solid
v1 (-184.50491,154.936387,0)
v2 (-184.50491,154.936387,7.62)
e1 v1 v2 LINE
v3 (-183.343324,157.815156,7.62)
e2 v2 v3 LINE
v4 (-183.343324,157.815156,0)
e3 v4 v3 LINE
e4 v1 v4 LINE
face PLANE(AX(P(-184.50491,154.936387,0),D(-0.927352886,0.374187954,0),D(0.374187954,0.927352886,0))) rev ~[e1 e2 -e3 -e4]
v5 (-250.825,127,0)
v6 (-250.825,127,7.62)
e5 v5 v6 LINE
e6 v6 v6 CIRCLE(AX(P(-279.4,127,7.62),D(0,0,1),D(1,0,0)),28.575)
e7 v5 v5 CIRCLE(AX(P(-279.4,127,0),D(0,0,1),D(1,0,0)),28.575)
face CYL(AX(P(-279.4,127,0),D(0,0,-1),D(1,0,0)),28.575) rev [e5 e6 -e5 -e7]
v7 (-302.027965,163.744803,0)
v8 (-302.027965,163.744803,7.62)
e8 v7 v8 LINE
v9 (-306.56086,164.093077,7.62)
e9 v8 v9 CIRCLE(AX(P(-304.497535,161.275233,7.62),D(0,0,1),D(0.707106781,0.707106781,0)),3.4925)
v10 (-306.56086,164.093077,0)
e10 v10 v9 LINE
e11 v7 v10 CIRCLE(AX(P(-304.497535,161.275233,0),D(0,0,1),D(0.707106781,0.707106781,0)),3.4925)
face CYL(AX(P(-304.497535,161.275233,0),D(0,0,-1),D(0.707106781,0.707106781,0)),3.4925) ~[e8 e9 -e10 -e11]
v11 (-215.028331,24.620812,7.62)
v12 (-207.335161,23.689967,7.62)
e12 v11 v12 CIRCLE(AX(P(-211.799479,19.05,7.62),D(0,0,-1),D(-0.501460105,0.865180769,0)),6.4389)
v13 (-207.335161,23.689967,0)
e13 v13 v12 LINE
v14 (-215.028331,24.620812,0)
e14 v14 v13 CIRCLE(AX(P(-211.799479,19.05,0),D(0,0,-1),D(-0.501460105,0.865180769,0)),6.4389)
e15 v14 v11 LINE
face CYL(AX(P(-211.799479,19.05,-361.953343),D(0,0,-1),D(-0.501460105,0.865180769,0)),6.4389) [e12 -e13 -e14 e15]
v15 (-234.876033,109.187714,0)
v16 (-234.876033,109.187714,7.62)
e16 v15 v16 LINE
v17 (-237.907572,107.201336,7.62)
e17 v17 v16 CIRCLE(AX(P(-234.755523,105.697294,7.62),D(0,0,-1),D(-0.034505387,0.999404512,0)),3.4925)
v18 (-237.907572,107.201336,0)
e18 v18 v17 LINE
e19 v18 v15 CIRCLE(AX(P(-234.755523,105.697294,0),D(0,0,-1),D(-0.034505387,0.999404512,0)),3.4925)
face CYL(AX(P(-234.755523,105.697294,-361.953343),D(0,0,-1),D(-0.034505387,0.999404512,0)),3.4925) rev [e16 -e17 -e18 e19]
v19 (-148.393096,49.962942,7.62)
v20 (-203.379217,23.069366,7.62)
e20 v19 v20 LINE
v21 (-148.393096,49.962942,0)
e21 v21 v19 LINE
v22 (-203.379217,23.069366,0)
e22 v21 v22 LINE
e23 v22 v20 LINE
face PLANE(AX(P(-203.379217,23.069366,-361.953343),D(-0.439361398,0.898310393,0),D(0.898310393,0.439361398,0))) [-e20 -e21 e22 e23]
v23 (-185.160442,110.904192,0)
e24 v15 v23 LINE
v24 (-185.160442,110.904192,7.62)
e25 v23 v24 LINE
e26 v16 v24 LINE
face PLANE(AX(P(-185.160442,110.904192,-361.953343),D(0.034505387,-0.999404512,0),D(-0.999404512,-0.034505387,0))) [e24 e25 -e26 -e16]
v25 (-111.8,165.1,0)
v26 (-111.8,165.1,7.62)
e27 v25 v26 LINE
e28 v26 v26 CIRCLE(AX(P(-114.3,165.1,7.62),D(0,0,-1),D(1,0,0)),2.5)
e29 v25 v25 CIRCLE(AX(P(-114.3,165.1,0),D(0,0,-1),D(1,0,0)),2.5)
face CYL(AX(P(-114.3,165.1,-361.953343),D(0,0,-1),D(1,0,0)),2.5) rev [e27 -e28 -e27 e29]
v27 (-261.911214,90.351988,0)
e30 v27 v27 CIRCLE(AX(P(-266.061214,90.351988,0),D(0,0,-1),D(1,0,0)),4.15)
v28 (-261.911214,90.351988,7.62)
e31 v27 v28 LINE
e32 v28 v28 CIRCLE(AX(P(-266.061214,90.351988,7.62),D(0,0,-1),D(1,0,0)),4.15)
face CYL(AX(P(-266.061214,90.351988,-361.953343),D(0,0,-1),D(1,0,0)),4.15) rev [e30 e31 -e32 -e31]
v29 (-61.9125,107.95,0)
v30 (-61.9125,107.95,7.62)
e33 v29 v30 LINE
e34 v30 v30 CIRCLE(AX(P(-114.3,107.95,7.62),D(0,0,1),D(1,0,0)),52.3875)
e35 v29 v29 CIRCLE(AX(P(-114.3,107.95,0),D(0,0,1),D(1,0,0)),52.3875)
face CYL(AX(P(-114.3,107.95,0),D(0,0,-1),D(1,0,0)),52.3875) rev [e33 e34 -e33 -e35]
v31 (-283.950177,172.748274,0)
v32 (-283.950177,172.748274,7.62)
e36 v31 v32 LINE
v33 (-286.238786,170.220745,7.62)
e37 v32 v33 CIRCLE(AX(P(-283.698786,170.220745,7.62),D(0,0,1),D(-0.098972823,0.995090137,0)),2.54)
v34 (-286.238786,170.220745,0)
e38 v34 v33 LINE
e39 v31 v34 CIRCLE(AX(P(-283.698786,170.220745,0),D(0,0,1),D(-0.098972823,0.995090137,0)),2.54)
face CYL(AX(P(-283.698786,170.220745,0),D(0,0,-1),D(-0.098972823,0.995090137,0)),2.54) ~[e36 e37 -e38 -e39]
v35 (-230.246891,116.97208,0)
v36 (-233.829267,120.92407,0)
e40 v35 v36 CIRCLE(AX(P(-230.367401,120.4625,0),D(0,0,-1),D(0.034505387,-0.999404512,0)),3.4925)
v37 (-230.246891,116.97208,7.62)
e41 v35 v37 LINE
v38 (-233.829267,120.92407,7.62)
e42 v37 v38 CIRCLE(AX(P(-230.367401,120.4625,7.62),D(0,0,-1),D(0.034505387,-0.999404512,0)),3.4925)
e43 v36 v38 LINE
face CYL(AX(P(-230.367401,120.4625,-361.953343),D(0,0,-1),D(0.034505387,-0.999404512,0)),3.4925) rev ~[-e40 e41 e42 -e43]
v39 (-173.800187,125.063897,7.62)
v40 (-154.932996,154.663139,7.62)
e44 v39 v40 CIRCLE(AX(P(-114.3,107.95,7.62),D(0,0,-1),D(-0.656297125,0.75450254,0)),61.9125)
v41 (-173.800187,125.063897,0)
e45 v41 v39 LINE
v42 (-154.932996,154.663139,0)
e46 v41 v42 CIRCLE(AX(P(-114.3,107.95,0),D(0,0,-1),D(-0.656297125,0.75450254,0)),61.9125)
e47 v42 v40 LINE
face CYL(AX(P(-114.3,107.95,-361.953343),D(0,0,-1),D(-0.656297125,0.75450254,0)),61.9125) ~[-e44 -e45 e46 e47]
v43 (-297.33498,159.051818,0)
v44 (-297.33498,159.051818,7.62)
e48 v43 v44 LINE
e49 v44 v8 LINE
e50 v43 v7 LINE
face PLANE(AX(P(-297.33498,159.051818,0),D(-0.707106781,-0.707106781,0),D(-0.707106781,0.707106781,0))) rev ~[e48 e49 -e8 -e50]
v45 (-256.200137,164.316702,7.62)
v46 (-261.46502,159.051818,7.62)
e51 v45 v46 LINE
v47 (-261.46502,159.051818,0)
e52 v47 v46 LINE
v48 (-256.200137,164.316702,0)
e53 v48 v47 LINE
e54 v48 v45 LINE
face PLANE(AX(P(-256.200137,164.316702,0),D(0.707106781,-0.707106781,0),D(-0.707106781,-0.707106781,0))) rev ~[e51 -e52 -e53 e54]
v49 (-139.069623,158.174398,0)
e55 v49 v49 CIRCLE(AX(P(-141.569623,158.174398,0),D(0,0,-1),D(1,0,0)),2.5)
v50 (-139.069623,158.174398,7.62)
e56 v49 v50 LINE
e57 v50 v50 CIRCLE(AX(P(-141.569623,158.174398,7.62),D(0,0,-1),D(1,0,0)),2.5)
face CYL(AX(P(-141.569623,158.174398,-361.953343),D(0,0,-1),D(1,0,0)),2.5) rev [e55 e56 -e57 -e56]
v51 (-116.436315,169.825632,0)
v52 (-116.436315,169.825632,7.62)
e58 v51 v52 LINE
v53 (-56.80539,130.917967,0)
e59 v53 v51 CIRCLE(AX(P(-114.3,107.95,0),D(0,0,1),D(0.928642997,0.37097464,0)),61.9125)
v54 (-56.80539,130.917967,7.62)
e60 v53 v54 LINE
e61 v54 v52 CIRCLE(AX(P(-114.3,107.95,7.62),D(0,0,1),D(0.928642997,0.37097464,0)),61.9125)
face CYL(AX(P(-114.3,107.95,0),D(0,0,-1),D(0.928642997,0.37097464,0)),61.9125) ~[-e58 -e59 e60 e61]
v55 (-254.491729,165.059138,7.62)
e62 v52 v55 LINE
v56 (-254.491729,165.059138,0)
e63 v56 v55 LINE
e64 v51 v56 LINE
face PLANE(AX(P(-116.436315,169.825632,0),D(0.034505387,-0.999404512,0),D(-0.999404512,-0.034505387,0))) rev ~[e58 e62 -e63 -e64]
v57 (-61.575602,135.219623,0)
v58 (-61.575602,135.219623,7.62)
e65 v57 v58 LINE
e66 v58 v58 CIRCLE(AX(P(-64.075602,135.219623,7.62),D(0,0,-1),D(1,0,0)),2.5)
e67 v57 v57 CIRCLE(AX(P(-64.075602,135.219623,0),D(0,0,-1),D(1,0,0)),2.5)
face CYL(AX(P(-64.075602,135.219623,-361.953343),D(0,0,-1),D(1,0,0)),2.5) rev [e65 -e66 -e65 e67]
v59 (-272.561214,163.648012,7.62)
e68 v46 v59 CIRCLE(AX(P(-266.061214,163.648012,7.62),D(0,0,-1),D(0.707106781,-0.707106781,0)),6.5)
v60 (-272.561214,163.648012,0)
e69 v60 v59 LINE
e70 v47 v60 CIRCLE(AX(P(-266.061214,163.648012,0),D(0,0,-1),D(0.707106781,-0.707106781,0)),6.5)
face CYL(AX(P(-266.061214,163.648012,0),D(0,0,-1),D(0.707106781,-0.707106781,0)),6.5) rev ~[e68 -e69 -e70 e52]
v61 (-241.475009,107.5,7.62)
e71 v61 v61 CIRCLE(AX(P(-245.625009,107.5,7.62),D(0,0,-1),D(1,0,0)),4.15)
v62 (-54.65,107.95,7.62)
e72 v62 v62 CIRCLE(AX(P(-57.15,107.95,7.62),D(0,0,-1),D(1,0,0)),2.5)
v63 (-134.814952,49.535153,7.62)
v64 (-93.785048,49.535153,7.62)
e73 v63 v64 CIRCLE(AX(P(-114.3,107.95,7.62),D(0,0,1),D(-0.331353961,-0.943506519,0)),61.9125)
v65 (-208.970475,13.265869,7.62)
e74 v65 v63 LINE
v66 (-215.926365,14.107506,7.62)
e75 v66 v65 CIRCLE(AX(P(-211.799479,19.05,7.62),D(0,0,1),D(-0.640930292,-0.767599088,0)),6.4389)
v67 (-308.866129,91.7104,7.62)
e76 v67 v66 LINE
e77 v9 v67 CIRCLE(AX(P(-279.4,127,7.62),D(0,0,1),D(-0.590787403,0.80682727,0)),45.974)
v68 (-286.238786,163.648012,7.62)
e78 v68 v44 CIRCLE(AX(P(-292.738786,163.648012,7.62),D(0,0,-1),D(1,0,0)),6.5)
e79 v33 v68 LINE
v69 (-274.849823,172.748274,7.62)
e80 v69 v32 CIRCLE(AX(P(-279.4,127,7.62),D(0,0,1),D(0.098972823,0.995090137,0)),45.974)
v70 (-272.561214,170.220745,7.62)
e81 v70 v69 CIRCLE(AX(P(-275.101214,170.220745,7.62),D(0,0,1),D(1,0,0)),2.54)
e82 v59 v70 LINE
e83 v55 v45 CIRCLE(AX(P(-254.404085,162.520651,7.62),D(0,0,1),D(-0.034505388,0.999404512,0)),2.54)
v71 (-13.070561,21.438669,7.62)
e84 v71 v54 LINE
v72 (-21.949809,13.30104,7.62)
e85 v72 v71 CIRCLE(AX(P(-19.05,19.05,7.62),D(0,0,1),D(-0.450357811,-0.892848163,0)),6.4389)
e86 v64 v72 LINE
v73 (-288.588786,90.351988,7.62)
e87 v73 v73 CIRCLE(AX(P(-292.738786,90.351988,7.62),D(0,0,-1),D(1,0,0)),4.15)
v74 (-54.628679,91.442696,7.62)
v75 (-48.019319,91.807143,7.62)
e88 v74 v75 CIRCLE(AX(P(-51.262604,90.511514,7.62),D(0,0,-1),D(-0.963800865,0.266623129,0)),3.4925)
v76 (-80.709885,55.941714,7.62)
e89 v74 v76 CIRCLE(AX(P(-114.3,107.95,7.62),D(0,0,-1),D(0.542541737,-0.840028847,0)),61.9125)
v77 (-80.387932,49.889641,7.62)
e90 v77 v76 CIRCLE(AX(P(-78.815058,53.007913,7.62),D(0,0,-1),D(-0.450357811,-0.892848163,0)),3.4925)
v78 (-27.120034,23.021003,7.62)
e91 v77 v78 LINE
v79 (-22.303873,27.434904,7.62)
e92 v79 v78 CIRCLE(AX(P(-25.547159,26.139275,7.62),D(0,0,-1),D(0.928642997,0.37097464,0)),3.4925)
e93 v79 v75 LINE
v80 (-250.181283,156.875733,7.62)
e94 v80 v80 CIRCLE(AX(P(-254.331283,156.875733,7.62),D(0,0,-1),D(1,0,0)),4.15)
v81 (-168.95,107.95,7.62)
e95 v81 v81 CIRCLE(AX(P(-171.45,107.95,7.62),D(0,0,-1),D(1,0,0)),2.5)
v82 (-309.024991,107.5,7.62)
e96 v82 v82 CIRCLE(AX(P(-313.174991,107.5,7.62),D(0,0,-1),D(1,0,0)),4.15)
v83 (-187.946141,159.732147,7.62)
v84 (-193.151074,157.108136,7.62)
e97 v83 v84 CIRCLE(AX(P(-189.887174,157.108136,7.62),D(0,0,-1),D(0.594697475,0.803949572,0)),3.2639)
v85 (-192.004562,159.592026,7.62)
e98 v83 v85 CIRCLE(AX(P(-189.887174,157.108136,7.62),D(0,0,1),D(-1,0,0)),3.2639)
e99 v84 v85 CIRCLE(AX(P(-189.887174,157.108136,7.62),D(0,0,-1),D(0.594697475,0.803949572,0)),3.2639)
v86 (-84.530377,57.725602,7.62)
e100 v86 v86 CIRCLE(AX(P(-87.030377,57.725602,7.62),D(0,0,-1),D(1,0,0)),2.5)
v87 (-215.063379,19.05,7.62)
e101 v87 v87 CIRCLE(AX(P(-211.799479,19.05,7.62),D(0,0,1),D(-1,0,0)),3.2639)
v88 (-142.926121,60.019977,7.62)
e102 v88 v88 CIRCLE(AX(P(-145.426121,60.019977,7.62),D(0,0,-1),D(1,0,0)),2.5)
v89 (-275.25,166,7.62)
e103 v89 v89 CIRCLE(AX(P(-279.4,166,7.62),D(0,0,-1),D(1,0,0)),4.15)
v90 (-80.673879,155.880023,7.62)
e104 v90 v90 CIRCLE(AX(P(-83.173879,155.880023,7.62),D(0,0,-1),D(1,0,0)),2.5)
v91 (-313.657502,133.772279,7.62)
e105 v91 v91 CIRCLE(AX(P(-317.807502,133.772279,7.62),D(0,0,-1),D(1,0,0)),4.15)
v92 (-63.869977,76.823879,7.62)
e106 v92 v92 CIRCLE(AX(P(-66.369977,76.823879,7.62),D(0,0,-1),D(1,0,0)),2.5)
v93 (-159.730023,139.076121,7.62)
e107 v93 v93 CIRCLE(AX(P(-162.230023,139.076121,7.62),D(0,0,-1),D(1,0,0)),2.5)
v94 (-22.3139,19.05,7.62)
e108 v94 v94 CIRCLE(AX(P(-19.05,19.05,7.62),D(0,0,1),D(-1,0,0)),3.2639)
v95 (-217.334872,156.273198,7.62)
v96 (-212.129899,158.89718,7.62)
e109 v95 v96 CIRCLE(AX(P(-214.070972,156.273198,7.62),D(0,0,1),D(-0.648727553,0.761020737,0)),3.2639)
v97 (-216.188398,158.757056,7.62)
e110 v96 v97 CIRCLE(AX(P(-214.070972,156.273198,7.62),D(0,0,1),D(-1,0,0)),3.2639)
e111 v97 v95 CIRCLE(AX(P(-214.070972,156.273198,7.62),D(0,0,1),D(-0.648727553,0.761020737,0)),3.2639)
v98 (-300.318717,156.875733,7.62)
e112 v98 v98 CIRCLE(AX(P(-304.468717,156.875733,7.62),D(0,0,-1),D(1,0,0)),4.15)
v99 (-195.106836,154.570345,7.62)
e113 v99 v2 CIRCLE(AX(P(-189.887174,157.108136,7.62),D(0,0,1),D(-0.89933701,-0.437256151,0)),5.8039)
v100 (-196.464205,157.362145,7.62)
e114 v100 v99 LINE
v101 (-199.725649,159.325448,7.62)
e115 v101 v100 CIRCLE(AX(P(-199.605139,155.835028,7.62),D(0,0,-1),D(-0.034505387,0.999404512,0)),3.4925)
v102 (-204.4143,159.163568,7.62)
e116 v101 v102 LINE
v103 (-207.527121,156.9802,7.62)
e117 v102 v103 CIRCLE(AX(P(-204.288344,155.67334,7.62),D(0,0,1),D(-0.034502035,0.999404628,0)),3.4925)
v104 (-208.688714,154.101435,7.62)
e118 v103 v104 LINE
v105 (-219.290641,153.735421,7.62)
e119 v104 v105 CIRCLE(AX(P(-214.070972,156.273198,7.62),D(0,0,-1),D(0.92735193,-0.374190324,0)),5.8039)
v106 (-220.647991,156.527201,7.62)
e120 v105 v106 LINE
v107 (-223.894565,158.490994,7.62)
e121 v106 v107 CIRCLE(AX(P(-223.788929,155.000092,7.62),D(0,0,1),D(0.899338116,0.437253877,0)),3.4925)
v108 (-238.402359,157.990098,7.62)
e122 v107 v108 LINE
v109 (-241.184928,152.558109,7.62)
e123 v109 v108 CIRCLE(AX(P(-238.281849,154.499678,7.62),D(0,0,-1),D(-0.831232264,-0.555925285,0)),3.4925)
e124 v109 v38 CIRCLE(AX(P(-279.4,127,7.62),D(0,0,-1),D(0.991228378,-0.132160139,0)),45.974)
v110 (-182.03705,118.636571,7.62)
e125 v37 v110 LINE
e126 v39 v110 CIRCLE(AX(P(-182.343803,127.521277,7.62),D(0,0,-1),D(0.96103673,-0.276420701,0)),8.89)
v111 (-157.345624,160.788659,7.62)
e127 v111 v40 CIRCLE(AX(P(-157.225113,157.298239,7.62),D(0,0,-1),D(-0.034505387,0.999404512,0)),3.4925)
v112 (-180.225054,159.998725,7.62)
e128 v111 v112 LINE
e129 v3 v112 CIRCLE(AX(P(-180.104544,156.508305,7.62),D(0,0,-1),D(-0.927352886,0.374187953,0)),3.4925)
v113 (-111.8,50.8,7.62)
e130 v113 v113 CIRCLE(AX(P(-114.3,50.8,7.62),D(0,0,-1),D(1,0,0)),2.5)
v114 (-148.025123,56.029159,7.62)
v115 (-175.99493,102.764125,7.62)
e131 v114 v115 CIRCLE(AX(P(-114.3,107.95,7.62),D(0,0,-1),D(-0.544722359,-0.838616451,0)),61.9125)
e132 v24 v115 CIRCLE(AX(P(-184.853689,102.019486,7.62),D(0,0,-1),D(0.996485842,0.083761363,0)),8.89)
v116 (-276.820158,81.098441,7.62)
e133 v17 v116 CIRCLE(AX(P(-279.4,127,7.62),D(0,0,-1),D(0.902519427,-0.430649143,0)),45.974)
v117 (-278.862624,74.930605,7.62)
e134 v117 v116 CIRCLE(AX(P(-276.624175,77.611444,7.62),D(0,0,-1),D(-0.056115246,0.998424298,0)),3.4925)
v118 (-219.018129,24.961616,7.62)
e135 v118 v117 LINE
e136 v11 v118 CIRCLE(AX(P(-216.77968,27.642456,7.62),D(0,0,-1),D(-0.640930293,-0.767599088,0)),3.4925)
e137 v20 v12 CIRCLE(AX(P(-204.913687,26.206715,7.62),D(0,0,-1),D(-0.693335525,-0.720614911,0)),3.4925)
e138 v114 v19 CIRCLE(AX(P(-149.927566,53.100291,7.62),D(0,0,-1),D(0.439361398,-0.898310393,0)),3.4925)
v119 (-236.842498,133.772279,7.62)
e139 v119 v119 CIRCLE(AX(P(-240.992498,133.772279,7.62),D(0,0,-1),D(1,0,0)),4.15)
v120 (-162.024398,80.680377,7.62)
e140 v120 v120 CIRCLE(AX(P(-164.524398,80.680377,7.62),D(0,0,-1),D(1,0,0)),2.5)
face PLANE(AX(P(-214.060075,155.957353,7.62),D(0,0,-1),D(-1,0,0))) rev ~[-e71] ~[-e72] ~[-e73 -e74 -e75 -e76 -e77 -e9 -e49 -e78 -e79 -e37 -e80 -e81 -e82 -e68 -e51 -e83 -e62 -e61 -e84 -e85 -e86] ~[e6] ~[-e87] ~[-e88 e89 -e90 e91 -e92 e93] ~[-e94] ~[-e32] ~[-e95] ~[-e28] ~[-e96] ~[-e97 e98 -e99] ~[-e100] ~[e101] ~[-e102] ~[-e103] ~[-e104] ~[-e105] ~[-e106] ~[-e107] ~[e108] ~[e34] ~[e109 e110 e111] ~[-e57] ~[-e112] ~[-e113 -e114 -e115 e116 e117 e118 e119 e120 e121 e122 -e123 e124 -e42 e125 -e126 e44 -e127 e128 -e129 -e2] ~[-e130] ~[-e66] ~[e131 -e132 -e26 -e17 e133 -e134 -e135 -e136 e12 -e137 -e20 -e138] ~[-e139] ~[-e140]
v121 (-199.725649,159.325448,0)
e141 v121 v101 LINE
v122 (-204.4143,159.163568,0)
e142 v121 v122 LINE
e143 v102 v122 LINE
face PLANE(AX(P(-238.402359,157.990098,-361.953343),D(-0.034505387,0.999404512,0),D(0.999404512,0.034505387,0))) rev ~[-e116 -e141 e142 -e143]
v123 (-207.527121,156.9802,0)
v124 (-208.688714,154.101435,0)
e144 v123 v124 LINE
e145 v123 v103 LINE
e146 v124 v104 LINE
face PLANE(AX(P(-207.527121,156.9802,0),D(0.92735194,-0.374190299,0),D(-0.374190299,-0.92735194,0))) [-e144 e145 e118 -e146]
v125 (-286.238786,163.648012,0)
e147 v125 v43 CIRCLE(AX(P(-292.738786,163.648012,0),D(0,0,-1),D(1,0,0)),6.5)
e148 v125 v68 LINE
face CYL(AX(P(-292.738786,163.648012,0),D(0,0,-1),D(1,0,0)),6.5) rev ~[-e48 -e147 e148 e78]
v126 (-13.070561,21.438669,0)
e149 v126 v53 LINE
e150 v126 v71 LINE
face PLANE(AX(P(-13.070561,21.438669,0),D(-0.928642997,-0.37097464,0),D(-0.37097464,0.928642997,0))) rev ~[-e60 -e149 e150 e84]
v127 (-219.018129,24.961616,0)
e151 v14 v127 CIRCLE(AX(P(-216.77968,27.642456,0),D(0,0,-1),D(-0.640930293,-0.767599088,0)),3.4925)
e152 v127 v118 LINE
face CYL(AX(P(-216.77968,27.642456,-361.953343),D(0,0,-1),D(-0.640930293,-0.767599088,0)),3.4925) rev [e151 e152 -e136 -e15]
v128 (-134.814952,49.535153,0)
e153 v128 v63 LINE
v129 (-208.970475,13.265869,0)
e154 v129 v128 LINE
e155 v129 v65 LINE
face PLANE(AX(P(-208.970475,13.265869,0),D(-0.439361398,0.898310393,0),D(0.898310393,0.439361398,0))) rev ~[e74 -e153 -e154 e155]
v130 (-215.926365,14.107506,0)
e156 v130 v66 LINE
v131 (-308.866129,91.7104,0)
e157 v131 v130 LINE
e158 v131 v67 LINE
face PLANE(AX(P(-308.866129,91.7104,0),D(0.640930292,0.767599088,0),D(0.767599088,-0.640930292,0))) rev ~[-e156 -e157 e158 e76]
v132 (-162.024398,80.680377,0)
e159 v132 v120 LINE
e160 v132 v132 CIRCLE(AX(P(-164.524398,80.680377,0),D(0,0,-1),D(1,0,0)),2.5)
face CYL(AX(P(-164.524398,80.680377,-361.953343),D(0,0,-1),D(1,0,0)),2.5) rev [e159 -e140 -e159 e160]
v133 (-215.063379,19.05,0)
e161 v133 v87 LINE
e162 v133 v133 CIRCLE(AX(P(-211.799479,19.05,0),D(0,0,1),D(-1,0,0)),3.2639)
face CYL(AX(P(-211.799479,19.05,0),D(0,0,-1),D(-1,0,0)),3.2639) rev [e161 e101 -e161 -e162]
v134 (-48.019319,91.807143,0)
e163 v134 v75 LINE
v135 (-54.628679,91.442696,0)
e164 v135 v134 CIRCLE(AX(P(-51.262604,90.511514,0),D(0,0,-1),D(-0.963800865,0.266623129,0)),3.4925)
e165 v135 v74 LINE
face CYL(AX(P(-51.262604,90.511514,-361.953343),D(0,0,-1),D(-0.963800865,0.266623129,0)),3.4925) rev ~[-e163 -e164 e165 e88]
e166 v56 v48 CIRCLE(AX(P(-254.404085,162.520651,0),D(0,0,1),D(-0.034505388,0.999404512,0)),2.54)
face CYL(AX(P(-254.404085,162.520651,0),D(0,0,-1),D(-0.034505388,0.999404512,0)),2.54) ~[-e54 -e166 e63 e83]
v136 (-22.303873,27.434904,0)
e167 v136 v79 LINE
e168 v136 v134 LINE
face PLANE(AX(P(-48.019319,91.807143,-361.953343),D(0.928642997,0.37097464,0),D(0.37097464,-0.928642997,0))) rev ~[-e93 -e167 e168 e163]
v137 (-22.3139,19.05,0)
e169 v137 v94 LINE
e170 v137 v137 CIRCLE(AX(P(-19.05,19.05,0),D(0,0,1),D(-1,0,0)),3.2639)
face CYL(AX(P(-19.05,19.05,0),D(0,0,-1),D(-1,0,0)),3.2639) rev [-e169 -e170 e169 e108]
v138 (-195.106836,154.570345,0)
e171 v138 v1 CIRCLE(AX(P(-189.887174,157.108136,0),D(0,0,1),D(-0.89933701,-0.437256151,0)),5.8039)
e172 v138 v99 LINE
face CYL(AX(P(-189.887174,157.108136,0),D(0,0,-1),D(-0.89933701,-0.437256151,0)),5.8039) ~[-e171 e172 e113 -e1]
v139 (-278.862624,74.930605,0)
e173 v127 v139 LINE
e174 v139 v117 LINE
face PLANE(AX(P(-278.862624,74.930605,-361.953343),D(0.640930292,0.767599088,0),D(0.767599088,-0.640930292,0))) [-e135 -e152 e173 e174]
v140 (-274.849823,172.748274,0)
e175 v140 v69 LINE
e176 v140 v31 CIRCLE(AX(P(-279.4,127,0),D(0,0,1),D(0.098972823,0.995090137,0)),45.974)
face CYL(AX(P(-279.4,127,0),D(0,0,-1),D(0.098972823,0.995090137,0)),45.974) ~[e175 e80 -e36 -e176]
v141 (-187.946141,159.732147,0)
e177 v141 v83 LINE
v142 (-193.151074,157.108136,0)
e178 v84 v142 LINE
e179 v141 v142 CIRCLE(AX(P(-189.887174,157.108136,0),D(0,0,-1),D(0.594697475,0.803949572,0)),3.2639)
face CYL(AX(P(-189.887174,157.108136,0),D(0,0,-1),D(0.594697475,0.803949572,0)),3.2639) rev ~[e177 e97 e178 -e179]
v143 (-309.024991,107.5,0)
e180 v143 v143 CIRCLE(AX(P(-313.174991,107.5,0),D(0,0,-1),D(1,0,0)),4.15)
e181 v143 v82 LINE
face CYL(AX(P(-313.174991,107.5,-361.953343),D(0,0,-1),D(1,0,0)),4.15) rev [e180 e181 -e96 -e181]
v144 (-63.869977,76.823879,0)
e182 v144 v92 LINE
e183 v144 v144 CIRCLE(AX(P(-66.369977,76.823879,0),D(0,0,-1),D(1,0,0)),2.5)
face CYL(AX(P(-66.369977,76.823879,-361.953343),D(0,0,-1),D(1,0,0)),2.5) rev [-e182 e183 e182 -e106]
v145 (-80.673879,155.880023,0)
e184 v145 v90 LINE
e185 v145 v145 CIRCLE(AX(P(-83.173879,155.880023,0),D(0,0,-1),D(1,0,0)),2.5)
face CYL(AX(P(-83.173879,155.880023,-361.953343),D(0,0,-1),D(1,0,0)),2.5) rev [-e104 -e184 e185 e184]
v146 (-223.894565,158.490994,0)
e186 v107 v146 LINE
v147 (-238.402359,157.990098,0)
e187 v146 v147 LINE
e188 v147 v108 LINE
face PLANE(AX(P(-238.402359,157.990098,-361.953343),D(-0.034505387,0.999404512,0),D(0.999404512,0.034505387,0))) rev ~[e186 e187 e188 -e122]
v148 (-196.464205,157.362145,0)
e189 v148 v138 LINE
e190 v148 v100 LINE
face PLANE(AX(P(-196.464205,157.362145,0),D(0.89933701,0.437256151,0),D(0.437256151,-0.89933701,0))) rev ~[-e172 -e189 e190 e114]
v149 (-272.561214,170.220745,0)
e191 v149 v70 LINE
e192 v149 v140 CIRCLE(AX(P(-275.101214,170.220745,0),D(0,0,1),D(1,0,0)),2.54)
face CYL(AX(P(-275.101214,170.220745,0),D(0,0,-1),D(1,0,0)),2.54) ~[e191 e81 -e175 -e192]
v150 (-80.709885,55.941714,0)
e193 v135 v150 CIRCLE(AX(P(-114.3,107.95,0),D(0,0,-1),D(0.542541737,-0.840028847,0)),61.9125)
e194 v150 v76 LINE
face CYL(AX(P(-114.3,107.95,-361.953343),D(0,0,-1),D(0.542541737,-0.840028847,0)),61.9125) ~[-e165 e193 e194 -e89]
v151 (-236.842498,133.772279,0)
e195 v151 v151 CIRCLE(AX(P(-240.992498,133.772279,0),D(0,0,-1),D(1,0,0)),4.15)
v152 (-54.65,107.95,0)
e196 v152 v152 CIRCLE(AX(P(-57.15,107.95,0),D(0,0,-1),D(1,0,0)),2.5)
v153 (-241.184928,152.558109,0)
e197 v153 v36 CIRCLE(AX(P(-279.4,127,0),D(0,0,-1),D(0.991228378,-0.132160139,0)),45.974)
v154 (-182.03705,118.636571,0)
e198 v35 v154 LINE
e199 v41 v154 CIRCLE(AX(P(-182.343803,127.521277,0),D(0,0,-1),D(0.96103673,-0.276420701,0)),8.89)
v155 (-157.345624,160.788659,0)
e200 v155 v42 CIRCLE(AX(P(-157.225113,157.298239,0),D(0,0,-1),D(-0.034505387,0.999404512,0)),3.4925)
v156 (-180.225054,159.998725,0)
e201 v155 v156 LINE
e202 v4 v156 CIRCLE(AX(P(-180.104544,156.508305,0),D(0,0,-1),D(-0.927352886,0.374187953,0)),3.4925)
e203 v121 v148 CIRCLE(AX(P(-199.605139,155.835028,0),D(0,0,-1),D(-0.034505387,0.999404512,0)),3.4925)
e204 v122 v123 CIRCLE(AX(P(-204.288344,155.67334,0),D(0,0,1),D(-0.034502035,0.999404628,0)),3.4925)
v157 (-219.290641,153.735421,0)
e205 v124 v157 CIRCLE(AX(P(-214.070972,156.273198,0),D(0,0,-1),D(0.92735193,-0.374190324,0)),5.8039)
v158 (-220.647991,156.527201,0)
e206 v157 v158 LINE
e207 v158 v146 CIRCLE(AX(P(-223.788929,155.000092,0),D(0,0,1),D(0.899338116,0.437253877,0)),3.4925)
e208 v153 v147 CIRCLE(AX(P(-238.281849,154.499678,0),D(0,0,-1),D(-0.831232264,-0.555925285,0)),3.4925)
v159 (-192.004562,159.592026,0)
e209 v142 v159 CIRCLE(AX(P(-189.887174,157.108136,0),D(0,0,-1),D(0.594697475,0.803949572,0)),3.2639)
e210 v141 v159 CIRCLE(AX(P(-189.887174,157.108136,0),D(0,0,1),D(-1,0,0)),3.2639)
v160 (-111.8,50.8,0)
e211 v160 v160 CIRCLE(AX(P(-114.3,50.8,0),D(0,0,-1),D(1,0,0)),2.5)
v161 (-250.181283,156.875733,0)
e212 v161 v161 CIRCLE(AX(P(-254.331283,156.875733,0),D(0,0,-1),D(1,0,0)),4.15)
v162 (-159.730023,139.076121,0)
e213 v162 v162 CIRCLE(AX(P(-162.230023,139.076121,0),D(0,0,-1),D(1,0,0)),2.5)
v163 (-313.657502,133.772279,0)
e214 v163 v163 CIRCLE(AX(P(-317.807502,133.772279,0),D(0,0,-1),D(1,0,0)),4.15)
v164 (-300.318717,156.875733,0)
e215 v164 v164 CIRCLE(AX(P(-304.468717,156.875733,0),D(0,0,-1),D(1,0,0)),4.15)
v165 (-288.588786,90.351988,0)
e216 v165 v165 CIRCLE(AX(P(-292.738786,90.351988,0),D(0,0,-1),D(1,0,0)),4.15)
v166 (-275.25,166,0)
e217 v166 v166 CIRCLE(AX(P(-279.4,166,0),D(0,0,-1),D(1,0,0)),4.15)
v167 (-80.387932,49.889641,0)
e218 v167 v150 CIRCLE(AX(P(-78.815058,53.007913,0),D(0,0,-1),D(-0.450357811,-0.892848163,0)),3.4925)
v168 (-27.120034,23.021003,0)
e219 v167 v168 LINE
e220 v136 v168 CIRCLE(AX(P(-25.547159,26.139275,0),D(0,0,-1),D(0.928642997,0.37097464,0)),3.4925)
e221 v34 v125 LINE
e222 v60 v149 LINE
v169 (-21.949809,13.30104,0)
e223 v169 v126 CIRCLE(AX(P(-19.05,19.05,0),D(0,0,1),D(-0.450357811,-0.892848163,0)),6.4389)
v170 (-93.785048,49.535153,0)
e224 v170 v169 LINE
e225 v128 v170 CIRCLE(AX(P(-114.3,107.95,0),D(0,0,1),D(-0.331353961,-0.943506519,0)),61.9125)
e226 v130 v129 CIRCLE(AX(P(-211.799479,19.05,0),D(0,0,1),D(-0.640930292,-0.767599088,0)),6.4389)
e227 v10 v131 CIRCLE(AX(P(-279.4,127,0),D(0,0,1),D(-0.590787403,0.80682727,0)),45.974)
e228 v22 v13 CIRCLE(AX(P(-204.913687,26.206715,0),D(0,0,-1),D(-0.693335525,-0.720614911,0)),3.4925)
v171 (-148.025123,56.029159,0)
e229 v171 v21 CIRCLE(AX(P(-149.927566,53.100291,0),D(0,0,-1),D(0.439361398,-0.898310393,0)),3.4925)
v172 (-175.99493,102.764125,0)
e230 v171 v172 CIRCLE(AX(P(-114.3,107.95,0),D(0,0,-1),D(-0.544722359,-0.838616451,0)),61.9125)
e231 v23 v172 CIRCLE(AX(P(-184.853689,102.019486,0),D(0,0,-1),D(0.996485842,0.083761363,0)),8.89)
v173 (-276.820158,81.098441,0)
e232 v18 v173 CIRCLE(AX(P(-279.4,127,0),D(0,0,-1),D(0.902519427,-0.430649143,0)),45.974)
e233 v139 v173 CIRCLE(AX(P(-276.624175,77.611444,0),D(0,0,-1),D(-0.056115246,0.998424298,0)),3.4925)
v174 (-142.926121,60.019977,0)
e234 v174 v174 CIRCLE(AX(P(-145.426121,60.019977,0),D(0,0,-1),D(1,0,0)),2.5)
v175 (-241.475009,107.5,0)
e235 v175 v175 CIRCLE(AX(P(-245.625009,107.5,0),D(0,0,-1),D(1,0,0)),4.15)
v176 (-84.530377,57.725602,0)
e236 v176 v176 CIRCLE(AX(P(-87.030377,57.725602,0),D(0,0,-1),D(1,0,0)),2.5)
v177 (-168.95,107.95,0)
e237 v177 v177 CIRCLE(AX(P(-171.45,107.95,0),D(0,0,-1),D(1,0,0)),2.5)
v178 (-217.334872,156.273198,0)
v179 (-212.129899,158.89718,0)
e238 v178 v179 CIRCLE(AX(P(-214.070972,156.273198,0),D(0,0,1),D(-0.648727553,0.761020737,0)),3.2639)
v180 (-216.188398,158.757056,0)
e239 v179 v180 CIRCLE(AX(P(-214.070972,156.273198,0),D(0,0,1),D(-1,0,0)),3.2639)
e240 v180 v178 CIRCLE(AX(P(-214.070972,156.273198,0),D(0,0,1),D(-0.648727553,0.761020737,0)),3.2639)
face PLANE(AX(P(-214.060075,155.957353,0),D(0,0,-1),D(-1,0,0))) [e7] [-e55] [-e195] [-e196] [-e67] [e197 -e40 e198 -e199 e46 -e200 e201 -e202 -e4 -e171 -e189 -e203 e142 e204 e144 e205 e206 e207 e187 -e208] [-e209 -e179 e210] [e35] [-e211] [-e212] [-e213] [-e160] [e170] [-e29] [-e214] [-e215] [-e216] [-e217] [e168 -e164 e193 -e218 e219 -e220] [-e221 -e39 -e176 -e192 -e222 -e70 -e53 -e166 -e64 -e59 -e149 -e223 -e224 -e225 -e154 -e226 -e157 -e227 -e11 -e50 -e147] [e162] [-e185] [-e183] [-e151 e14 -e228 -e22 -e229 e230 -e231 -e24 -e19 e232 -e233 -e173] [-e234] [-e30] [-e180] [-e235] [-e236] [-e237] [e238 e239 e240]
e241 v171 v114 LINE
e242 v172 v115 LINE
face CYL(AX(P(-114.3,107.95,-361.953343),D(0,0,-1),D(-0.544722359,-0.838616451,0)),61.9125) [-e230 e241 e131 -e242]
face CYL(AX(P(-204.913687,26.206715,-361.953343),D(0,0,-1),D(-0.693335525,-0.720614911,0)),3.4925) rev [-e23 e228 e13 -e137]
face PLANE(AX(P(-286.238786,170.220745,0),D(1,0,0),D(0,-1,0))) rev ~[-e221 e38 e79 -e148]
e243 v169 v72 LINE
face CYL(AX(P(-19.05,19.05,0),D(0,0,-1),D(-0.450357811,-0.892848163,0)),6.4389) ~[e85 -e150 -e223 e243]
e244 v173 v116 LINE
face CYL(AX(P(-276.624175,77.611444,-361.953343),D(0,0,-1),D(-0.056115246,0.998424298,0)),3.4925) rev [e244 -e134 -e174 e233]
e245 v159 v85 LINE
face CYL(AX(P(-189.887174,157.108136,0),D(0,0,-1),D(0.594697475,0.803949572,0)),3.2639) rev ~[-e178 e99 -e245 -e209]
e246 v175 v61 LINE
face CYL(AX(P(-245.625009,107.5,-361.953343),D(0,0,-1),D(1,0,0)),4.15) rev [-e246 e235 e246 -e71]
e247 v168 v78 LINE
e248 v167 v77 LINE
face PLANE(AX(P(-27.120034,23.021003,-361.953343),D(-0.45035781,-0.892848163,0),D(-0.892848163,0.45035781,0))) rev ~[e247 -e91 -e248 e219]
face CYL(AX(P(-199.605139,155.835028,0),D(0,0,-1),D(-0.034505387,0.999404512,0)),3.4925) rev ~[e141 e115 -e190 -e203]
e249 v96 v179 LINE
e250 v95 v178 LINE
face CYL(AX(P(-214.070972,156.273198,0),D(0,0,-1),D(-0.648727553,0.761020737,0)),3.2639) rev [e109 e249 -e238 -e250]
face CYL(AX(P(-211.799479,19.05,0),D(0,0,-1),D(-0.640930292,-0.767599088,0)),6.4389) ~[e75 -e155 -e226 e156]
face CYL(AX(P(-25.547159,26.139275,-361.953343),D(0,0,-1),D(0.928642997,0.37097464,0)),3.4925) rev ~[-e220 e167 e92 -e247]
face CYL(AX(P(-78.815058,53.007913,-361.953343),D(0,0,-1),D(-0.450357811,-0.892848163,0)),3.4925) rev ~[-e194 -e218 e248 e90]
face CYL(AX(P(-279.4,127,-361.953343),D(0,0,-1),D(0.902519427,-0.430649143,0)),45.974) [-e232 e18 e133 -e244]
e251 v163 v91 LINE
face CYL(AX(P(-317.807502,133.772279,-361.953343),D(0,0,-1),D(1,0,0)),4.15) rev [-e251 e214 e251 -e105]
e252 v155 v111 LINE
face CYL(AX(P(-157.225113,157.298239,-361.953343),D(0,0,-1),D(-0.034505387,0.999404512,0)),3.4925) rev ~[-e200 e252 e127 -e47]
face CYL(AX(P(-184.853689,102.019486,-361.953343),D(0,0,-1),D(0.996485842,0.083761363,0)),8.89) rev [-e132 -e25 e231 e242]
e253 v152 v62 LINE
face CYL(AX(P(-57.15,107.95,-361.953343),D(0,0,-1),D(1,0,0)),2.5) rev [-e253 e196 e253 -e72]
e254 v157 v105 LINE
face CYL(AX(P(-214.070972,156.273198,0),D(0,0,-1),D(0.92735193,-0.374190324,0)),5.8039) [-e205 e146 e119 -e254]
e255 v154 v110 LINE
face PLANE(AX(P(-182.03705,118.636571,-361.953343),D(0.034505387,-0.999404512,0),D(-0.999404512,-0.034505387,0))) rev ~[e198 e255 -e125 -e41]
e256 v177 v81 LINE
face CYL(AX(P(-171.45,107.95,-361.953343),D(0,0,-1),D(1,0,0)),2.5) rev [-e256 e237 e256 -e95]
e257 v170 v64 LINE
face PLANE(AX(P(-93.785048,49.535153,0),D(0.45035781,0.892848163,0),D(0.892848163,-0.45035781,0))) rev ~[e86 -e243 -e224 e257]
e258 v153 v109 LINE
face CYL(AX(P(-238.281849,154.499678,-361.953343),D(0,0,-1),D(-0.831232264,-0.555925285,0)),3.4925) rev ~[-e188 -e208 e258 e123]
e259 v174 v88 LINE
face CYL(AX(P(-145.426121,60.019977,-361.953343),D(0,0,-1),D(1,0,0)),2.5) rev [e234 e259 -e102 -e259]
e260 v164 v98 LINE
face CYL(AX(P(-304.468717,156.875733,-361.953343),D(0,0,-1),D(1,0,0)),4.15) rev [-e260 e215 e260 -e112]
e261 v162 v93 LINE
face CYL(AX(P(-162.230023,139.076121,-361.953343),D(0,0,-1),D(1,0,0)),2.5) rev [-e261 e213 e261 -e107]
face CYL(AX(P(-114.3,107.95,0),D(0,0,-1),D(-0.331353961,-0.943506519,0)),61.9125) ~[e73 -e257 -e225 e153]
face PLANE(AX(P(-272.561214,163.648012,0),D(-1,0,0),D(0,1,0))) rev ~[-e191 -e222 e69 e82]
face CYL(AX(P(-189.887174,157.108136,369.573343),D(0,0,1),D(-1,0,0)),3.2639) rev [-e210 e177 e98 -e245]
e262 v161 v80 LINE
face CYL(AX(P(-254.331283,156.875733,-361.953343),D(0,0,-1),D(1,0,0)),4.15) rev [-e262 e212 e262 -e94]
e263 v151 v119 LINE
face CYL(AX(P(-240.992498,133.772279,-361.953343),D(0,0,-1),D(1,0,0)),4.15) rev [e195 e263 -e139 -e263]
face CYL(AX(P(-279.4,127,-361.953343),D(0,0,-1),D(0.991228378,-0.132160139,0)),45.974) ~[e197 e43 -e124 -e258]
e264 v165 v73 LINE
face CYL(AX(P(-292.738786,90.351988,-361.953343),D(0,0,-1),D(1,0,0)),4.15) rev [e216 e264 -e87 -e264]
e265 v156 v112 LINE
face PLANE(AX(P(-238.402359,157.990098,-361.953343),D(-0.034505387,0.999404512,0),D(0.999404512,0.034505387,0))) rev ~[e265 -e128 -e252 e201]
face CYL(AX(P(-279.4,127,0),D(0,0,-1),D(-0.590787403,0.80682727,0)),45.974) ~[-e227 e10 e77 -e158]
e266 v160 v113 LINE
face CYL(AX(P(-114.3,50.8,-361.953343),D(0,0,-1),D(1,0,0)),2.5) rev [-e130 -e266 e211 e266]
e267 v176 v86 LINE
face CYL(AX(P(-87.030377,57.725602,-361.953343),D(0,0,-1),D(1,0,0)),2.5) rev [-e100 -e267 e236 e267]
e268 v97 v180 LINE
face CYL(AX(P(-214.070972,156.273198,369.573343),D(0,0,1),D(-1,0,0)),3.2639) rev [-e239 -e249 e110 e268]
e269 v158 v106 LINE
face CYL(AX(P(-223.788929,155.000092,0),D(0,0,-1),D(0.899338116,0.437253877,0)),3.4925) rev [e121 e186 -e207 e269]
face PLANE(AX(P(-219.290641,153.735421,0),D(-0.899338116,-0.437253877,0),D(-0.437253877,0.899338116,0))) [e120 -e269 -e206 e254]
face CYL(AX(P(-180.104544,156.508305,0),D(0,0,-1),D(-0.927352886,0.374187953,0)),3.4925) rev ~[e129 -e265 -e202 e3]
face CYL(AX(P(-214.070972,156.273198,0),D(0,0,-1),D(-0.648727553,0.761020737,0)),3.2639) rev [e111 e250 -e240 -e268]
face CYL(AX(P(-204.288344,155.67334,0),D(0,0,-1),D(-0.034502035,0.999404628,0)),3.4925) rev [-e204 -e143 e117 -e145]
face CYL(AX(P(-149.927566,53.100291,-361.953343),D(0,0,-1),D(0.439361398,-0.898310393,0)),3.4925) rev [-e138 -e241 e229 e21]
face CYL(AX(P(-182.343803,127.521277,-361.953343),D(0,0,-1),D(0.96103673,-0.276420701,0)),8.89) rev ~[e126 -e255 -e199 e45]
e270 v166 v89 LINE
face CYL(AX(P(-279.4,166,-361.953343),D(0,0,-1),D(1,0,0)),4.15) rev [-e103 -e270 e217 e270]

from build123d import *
from build123d.topology import SkipClean

# Parameters (mm, degrees)
SKETCH2_R               = 28.575
SKETCH2_R_2             = 3.2639
SKETCH2_R_3             = 52.3875
BOSS_EXTRUDE1_DEPTH     = 7.62
CUT_EXTRUDE1_DEPTH      = 369.573342704
CUT_EXTRUDE1_DEPTH_BACK = 369.573342704
SKETCH3_R               = 4.15
SKETCH3_R_2             = 2.5
CUT_EXTRUDE2_DEPTH      = 369.573342704
CUT_EXTRUDE2_DEPTH_BACK = 369.573342704
BOSS_EXTRUDE2_DEPTH     = 7.62
CUT_EXTRUDE3_DEPTH      = 369.573342704
CUT_EXTRUDE3_DEPTH_BACK = 369.573342704
SKETCH12_R              = 3.2639


with BuildPart() as part:
    # Sketch2 → Boss-Extrude1 (new body)
    with BuildSketch(Plane.XY):
        with BuildLine():
            Line((-308.866129262, 91.710399516), (-215.926365234, 14.107506231))
            ThreePointArc((-215.926365234, 14.107506231), (-212.572921228, 12.657721799), (-208.970475069, 13.265869211))
            Line((-208.970475069, 13.265869211), (-134.814952137, 49.535152614))
            ThreePointArc((-134.814952137, 49.535152614), (-114.3, 46.0375), (-93.785047863, 49.535152614))
            Line((-93.785047863, 49.535152614), (-21.949808906, 13.301039962))
            ThreePointArc((-21.949808906, 13.301039962), (-14.699565425, 14.303090245), (-13.070560605, 21.438668609))
            Line((-13.070560605, 21.438668609), (-56.805390428, 130.917967399))
            ThreePointArc((-56.805390428, 130.917967399), (-80.468257666, 159.801430712), (-116.436314755, 169.825631839))
            Line((-116.436314755, 169.825631839), (-254.491729173, 165.059137987))
            ThreePointArc((-254.491729173, 165.059137987), (-255.416448823, 164.850182772), (-256.200136715, 164.316701751))
            Line((-256.200136715, 164.316701751), (-261.465020333, 159.051818133))
            ThreePointArc((-261.465020333, 159.051818133), (-268.548656721, 157.642795249), (-272.56121441, 163.648012211))
            Line((-272.56121441, 163.648012211), (-272.56121441, 170.220745001))
            ThreePointArc((-272.56121441, 170.220745001), (-273.218379704, 171.925600851), (-274.84982344, 172.748273949))
            ThreePointArc((-274.84982344, 172.748273949), (-279.4, 172.974), (-283.95017656, 172.748273949))
            ThreePointArc((-283.95017656, 172.748273949), (-285.581620296, 171.925600851), (-286.23878559, 170.220745001))
            Line((-286.23878559, 170.220745001), (-286.23878559, 163.648012211))
            ThreePointArc((-286.23878559, 163.648012211), (-290.251343279, 157.642795249), (-297.334979667, 159.051818133))
            Line((-297.334979667, 159.051818133), (-302.027964646, 163.744803112))
            ThreePointArc((-302.027964646, 163.744803112), (-304.229986022, 164.757469568), (-306.560860086, 164.09307692))
            ThreePointArc((-306.560860086, 164.09307692), (-325.350701602, 128.463454238), (-308.866129262, 91.710399516))
        make_face()
        with Locations((-279.4, 127)):
            Circle(SKETCH2_R, mode=Mode.SUBTRACT)
        with Locations(Location((-19.05, 19.05, 0), (0, 0, 180))):
            Circle(SKETCH2_R_2, mode=Mode.SUBTRACT)
        with Locations(Location((-211.799479175, 19.05, 0), (0, 0, 180))):
            Circle(SKETCH2_R_2, mode=Mode.SUBTRACT)
        with Locations((-114.3, 107.95)):
            Circle(SKETCH2_R_3, mode=Mode.SUBTRACT)
    extrude(amount=BOSS_EXTRUDE1_DEPTH)

    # Sketch3 → Cut-Extrude1 (cut, two sides: drawn at the far end of the back side and taken through both)
    with BuildSketch(Plane.XY.offset(7.62).offset(-CUT_EXTRUDE1_DEPTH_BACK)):
        with Locations((-279.4, 166)):
            Circle(SKETCH3_R)
        with Locations((-254.331283222, 156.875733282)):
            Circle(SKETCH3_R)
        with Locations((-240.992497633, 133.772278929)):
            Circle(SKETCH3_R)
        with Locations((-245.625009252, 107.5)):
            Circle(SKETCH3_R)
        with Locations((-266.06121441, 90.351987789)):
            Circle(SKETCH3_R)
        with Locations((-292.73878559, 90.351987789)):
            Circle(SKETCH3_R)
        with Locations((-313.174990748, 107.5)):
            Circle(SKETCH3_R)
        with Locations((-317.807502367, 133.772278929)):
            Circle(SKETCH3_R)
        with Locations((-304.468716778, 156.875733282)):
            Circle(SKETCH3_R)
        with Locations((-114.3, 165.1)):
            Circle(SKETCH3_R_2)
        with Locations((-57.15, 107.95)):
            Circle(SKETCH3_R_2)
        with Locations((-114.3, 50.8)):
            Circle(SKETCH3_R_2)
        with Locations((-171.45, 107.95)):
            Circle(SKETCH3_R_2)
        with Locations((-83.173879149, 155.880022958)):
            Circle(SKETCH3_R_2)
        with Locations((-64.075602011, 135.219623149)):
            Circle(SKETCH3_R_2)
        with Locations((-66.369977042, 76.823879149)):
            Circle(SKETCH3_R_2)
        with Locations((-87.030376851, 57.725602011)):
            Circle(SKETCH3_R_2)
        with Locations((-145.426120851, 60.019977042)):
            Circle(SKETCH3_R_2)
        with Locations((-164.524397989, 80.680376851)):
            Circle(SKETCH3_R_2)
        with Locations((-162.230022958, 139.076120851)):
            Circle(SKETCH3_R_2)
        with Locations((-141.569623149, 158.174397989)):
            Circle(SKETCH3_R_2)
    extrude(amount=CUT_EXTRUDE1_DEPTH + CUT_EXTRUDE1_DEPTH_BACK, mode=Mode.SUBTRACT)

    # Sketch4 → Cut-Extrude2 (cut, two sides: drawn at the far end of the back side and taken through both)
    with BuildSketch(Plane.XY.offset(7.62).offset(-CUT_EXTRUDE2_DEPTH_BACK)):
        with BuildLine():
            Line((-278.862624236, 74.930604639), (-219.018129111, 24.961616472))
            ThreePointArc((-219.018129111, 24.961616472), (-217.07692299, 24.16262829), (-215.028330647, 24.620812453))
            ThreePointArc((-215.028330647, 24.620812453), (-211.026037121, 25.442278201), (-207.335161059, 23.689967346))
            ThreePointArc((-207.335161059, 23.689967346), (-205.454963796, 22.756414152), (-203.379217054, 23.069365873))
            Line((-203.379217054, 23.069365873), (-148.393096208, 49.962941986))
            ThreePointArc((-148.393096208, 49.962941986), (-146.441473652, 52.888826728), (-148.025123052, 56.029158988))
            ThreePointArc((-148.025123052, 56.029158988), (-167.425190554, 76.155790074), (-175.994929719, 102.764124644))
            ThreePointArc((-175.994929719, 102.764124644), (-178.950352695, 108.666494642), (-185.160441746, 110.904192242))
            Line((-185.160441746, 110.904192242), (-234.876032851, 109.187714403))
            ThreePointArc((-234.876032851, 109.187714403), (-236.669637565, 108.61854745), (-237.907571885, 107.201336279))
            ThreePointArc((-237.907571885, 107.201336279), (-253.78883961, 88.82046177), (-276.820157686, 81.098441316))
            ThreePointArc((-276.820157686, 81.098441316), (-279.939618833, 78.709346862), (-278.862624236, 74.930604639))
        make_face()
        with BuildLine():
            Line((-48.019318761, 91.807143198), (-22.303873454, 27.434904147))
            ThreePointArc((-22.303873454, 27.434904147), (-23.187455951, 23.564521405), (-27.120033775, 23.021003007))
            Line((-27.120033775, 23.021003007), (-80.387932313, 49.889641079))
            ThreePointArc((-80.387932313, 49.889641079), (-82.302626367, 52.822384958), (-80.709884678, 55.941714036))
            ThreePointArc((-80.709884678, 55.941714036), (-64.405072396, 71.294115674), (-54.62867895, 91.442695545))
            ThreePointArc((-54.62867895, 91.442695545), (-51.454892751, 93.998716793), (-48.019318761, 91.807143198))
        make_face()
        with BuildLine():
            Line((-238.402359266, 157.990098388), (-157.34562354, 160.788658909))
            ThreePointArc((-157.34562354, 160.788658909), (-153.975579676, 158.578116117), (-154.932995767, 154.663138529))
            ThreePointArc((-154.932995767, 154.663138529), (-166.508163426, 141.228601653), (-173.800186524, 125.063896689))
            ThreePointArc((-173.800186524, 125.063896689), (-176.874809559, 120.512552862), (-182.037050163, 118.636570616))
            Line((-182.037050163, 118.636570616), (-230.24689137, 116.972080217))
            ThreePointArc((-230.24689137, 116.972080217), (-232.955010122, 118.116900866), (-233.829266544, 120.924069761))
            ThreePointArc((-233.829266544, 120.924069761), (-234.620613955, 137.412264953), (-241.184927886, 152.558109071))
            ThreePointArc((-241.184927886, 152.558109071), (-241.390248986, 156.091974283), (-238.402359266, 157.990098388))
        make_face()
    extrude(amount=CUT_EXTRUDE2_DEPTH + CUT_EXTRUDE2_DEPTH_BACK, mode=Mode.SUBTRACT)

    # Sketch11 → Boss-Extrude2 (add)
    with BuildSketch(Plane(origin=(0, 0, 0), x_dir=(-1, 0, 0), z_dir=(0, 0, -1))):
        with BuildLine():
            Line((207.527120949, 156.980199935), (208.688714257, 154.101435278))
            ThreePointArc((208.688714257, 154.101435278), (213.870721133, 150.472754139), (219.290640683, 153.735420862))
            Line((219.290640683, 153.735420862), (220.647990696, 156.527200807))
            ThreePointArc((220.647990696, 156.527200807), (221.987721601, 157.992282798), (223.909468964, 158.49051087))
            Line((223.909468964, 158.49051087), (221.735746538, 158.565579296))
            Line((221.735746538, 158.565579296), (216.188353984, 158.757094079))
            ThreePointArc((216.188353984, 158.757094079), (213.958358328, 153.011241823), (212.129932329, 158.897204543))
            Line((212.129932329, 158.897204543), (206.582539776, 159.088719327))
            Line((206.582539776, 159.088719327), (204.408842654, 159.163760977))
            ThreePointArc((204.408842654, 159.163760977), (206.291633306, 158.534177501), (207.527120949, 156.980199935))
        make_face()
        with BuildLine():
            ThreePointArc((199.725649115, 159.325448413), (197.803922582, 158.827213892), (196.464204543, 157.362145264))
            Line((196.464204543, 157.362145264), (195.106835972, 154.570345104))
            ThreePointArc((195.106835972, 154.570345104), (189.686908084, 151.307692234), (184.504910482, 154.936386616))
            Line((184.504910482, 154.936386616), (183.343323694, 157.815156094))
            ThreePointArc((183.343323694, 157.815156094), (182.107841163, 159.369135959), (180.225053803, 159.998724924))
            Line((180.225053803, 159.998724924), (182.398748746, 159.923676049))
            Line((182.398748746, 159.923676049), (187.94614081, 159.732147087))
            ThreePointArc((187.94614081, 159.732147087), (189.774551766, 153.846179694), (192.004562108, 159.59202625))
            Line((192.004562108, 159.59202625), (197.551954171, 159.400497289))
            Line((197.551954171, 159.400497289), (199.725649115, 159.325448413))
        make_face()
    extrude(amount=-BOSS_EXTRUDE2_DEPTH)

    # Sketch12 → Cut-Extrude3 (cut, two sides: drawn at the far end of the back side and taken through both)
    with SkipClean():  # the faces are left unmerged after this step: merging them gives an invalid solid
        with BuildSketch(Plane(origin=(0, 0, 0), x_dir=(-1, 0, 0), z_dir=(0, 0, -1)).offset(-CUT_EXTRUDE3_DEPTH_BACK)):
            with Locations((189.887173898, 157.10813608)):
                Circle(SKETCH12_R)
            with Locations((214.070972123, 156.273198497)):
                Circle(SKETCH12_R)
        extrude(amount=CUT_EXTRUDE3_DEPTH + CUT_EXTRUDE3_DEPTH_BACK, mode=Mode.SUBTRACT)


solid = part.part
